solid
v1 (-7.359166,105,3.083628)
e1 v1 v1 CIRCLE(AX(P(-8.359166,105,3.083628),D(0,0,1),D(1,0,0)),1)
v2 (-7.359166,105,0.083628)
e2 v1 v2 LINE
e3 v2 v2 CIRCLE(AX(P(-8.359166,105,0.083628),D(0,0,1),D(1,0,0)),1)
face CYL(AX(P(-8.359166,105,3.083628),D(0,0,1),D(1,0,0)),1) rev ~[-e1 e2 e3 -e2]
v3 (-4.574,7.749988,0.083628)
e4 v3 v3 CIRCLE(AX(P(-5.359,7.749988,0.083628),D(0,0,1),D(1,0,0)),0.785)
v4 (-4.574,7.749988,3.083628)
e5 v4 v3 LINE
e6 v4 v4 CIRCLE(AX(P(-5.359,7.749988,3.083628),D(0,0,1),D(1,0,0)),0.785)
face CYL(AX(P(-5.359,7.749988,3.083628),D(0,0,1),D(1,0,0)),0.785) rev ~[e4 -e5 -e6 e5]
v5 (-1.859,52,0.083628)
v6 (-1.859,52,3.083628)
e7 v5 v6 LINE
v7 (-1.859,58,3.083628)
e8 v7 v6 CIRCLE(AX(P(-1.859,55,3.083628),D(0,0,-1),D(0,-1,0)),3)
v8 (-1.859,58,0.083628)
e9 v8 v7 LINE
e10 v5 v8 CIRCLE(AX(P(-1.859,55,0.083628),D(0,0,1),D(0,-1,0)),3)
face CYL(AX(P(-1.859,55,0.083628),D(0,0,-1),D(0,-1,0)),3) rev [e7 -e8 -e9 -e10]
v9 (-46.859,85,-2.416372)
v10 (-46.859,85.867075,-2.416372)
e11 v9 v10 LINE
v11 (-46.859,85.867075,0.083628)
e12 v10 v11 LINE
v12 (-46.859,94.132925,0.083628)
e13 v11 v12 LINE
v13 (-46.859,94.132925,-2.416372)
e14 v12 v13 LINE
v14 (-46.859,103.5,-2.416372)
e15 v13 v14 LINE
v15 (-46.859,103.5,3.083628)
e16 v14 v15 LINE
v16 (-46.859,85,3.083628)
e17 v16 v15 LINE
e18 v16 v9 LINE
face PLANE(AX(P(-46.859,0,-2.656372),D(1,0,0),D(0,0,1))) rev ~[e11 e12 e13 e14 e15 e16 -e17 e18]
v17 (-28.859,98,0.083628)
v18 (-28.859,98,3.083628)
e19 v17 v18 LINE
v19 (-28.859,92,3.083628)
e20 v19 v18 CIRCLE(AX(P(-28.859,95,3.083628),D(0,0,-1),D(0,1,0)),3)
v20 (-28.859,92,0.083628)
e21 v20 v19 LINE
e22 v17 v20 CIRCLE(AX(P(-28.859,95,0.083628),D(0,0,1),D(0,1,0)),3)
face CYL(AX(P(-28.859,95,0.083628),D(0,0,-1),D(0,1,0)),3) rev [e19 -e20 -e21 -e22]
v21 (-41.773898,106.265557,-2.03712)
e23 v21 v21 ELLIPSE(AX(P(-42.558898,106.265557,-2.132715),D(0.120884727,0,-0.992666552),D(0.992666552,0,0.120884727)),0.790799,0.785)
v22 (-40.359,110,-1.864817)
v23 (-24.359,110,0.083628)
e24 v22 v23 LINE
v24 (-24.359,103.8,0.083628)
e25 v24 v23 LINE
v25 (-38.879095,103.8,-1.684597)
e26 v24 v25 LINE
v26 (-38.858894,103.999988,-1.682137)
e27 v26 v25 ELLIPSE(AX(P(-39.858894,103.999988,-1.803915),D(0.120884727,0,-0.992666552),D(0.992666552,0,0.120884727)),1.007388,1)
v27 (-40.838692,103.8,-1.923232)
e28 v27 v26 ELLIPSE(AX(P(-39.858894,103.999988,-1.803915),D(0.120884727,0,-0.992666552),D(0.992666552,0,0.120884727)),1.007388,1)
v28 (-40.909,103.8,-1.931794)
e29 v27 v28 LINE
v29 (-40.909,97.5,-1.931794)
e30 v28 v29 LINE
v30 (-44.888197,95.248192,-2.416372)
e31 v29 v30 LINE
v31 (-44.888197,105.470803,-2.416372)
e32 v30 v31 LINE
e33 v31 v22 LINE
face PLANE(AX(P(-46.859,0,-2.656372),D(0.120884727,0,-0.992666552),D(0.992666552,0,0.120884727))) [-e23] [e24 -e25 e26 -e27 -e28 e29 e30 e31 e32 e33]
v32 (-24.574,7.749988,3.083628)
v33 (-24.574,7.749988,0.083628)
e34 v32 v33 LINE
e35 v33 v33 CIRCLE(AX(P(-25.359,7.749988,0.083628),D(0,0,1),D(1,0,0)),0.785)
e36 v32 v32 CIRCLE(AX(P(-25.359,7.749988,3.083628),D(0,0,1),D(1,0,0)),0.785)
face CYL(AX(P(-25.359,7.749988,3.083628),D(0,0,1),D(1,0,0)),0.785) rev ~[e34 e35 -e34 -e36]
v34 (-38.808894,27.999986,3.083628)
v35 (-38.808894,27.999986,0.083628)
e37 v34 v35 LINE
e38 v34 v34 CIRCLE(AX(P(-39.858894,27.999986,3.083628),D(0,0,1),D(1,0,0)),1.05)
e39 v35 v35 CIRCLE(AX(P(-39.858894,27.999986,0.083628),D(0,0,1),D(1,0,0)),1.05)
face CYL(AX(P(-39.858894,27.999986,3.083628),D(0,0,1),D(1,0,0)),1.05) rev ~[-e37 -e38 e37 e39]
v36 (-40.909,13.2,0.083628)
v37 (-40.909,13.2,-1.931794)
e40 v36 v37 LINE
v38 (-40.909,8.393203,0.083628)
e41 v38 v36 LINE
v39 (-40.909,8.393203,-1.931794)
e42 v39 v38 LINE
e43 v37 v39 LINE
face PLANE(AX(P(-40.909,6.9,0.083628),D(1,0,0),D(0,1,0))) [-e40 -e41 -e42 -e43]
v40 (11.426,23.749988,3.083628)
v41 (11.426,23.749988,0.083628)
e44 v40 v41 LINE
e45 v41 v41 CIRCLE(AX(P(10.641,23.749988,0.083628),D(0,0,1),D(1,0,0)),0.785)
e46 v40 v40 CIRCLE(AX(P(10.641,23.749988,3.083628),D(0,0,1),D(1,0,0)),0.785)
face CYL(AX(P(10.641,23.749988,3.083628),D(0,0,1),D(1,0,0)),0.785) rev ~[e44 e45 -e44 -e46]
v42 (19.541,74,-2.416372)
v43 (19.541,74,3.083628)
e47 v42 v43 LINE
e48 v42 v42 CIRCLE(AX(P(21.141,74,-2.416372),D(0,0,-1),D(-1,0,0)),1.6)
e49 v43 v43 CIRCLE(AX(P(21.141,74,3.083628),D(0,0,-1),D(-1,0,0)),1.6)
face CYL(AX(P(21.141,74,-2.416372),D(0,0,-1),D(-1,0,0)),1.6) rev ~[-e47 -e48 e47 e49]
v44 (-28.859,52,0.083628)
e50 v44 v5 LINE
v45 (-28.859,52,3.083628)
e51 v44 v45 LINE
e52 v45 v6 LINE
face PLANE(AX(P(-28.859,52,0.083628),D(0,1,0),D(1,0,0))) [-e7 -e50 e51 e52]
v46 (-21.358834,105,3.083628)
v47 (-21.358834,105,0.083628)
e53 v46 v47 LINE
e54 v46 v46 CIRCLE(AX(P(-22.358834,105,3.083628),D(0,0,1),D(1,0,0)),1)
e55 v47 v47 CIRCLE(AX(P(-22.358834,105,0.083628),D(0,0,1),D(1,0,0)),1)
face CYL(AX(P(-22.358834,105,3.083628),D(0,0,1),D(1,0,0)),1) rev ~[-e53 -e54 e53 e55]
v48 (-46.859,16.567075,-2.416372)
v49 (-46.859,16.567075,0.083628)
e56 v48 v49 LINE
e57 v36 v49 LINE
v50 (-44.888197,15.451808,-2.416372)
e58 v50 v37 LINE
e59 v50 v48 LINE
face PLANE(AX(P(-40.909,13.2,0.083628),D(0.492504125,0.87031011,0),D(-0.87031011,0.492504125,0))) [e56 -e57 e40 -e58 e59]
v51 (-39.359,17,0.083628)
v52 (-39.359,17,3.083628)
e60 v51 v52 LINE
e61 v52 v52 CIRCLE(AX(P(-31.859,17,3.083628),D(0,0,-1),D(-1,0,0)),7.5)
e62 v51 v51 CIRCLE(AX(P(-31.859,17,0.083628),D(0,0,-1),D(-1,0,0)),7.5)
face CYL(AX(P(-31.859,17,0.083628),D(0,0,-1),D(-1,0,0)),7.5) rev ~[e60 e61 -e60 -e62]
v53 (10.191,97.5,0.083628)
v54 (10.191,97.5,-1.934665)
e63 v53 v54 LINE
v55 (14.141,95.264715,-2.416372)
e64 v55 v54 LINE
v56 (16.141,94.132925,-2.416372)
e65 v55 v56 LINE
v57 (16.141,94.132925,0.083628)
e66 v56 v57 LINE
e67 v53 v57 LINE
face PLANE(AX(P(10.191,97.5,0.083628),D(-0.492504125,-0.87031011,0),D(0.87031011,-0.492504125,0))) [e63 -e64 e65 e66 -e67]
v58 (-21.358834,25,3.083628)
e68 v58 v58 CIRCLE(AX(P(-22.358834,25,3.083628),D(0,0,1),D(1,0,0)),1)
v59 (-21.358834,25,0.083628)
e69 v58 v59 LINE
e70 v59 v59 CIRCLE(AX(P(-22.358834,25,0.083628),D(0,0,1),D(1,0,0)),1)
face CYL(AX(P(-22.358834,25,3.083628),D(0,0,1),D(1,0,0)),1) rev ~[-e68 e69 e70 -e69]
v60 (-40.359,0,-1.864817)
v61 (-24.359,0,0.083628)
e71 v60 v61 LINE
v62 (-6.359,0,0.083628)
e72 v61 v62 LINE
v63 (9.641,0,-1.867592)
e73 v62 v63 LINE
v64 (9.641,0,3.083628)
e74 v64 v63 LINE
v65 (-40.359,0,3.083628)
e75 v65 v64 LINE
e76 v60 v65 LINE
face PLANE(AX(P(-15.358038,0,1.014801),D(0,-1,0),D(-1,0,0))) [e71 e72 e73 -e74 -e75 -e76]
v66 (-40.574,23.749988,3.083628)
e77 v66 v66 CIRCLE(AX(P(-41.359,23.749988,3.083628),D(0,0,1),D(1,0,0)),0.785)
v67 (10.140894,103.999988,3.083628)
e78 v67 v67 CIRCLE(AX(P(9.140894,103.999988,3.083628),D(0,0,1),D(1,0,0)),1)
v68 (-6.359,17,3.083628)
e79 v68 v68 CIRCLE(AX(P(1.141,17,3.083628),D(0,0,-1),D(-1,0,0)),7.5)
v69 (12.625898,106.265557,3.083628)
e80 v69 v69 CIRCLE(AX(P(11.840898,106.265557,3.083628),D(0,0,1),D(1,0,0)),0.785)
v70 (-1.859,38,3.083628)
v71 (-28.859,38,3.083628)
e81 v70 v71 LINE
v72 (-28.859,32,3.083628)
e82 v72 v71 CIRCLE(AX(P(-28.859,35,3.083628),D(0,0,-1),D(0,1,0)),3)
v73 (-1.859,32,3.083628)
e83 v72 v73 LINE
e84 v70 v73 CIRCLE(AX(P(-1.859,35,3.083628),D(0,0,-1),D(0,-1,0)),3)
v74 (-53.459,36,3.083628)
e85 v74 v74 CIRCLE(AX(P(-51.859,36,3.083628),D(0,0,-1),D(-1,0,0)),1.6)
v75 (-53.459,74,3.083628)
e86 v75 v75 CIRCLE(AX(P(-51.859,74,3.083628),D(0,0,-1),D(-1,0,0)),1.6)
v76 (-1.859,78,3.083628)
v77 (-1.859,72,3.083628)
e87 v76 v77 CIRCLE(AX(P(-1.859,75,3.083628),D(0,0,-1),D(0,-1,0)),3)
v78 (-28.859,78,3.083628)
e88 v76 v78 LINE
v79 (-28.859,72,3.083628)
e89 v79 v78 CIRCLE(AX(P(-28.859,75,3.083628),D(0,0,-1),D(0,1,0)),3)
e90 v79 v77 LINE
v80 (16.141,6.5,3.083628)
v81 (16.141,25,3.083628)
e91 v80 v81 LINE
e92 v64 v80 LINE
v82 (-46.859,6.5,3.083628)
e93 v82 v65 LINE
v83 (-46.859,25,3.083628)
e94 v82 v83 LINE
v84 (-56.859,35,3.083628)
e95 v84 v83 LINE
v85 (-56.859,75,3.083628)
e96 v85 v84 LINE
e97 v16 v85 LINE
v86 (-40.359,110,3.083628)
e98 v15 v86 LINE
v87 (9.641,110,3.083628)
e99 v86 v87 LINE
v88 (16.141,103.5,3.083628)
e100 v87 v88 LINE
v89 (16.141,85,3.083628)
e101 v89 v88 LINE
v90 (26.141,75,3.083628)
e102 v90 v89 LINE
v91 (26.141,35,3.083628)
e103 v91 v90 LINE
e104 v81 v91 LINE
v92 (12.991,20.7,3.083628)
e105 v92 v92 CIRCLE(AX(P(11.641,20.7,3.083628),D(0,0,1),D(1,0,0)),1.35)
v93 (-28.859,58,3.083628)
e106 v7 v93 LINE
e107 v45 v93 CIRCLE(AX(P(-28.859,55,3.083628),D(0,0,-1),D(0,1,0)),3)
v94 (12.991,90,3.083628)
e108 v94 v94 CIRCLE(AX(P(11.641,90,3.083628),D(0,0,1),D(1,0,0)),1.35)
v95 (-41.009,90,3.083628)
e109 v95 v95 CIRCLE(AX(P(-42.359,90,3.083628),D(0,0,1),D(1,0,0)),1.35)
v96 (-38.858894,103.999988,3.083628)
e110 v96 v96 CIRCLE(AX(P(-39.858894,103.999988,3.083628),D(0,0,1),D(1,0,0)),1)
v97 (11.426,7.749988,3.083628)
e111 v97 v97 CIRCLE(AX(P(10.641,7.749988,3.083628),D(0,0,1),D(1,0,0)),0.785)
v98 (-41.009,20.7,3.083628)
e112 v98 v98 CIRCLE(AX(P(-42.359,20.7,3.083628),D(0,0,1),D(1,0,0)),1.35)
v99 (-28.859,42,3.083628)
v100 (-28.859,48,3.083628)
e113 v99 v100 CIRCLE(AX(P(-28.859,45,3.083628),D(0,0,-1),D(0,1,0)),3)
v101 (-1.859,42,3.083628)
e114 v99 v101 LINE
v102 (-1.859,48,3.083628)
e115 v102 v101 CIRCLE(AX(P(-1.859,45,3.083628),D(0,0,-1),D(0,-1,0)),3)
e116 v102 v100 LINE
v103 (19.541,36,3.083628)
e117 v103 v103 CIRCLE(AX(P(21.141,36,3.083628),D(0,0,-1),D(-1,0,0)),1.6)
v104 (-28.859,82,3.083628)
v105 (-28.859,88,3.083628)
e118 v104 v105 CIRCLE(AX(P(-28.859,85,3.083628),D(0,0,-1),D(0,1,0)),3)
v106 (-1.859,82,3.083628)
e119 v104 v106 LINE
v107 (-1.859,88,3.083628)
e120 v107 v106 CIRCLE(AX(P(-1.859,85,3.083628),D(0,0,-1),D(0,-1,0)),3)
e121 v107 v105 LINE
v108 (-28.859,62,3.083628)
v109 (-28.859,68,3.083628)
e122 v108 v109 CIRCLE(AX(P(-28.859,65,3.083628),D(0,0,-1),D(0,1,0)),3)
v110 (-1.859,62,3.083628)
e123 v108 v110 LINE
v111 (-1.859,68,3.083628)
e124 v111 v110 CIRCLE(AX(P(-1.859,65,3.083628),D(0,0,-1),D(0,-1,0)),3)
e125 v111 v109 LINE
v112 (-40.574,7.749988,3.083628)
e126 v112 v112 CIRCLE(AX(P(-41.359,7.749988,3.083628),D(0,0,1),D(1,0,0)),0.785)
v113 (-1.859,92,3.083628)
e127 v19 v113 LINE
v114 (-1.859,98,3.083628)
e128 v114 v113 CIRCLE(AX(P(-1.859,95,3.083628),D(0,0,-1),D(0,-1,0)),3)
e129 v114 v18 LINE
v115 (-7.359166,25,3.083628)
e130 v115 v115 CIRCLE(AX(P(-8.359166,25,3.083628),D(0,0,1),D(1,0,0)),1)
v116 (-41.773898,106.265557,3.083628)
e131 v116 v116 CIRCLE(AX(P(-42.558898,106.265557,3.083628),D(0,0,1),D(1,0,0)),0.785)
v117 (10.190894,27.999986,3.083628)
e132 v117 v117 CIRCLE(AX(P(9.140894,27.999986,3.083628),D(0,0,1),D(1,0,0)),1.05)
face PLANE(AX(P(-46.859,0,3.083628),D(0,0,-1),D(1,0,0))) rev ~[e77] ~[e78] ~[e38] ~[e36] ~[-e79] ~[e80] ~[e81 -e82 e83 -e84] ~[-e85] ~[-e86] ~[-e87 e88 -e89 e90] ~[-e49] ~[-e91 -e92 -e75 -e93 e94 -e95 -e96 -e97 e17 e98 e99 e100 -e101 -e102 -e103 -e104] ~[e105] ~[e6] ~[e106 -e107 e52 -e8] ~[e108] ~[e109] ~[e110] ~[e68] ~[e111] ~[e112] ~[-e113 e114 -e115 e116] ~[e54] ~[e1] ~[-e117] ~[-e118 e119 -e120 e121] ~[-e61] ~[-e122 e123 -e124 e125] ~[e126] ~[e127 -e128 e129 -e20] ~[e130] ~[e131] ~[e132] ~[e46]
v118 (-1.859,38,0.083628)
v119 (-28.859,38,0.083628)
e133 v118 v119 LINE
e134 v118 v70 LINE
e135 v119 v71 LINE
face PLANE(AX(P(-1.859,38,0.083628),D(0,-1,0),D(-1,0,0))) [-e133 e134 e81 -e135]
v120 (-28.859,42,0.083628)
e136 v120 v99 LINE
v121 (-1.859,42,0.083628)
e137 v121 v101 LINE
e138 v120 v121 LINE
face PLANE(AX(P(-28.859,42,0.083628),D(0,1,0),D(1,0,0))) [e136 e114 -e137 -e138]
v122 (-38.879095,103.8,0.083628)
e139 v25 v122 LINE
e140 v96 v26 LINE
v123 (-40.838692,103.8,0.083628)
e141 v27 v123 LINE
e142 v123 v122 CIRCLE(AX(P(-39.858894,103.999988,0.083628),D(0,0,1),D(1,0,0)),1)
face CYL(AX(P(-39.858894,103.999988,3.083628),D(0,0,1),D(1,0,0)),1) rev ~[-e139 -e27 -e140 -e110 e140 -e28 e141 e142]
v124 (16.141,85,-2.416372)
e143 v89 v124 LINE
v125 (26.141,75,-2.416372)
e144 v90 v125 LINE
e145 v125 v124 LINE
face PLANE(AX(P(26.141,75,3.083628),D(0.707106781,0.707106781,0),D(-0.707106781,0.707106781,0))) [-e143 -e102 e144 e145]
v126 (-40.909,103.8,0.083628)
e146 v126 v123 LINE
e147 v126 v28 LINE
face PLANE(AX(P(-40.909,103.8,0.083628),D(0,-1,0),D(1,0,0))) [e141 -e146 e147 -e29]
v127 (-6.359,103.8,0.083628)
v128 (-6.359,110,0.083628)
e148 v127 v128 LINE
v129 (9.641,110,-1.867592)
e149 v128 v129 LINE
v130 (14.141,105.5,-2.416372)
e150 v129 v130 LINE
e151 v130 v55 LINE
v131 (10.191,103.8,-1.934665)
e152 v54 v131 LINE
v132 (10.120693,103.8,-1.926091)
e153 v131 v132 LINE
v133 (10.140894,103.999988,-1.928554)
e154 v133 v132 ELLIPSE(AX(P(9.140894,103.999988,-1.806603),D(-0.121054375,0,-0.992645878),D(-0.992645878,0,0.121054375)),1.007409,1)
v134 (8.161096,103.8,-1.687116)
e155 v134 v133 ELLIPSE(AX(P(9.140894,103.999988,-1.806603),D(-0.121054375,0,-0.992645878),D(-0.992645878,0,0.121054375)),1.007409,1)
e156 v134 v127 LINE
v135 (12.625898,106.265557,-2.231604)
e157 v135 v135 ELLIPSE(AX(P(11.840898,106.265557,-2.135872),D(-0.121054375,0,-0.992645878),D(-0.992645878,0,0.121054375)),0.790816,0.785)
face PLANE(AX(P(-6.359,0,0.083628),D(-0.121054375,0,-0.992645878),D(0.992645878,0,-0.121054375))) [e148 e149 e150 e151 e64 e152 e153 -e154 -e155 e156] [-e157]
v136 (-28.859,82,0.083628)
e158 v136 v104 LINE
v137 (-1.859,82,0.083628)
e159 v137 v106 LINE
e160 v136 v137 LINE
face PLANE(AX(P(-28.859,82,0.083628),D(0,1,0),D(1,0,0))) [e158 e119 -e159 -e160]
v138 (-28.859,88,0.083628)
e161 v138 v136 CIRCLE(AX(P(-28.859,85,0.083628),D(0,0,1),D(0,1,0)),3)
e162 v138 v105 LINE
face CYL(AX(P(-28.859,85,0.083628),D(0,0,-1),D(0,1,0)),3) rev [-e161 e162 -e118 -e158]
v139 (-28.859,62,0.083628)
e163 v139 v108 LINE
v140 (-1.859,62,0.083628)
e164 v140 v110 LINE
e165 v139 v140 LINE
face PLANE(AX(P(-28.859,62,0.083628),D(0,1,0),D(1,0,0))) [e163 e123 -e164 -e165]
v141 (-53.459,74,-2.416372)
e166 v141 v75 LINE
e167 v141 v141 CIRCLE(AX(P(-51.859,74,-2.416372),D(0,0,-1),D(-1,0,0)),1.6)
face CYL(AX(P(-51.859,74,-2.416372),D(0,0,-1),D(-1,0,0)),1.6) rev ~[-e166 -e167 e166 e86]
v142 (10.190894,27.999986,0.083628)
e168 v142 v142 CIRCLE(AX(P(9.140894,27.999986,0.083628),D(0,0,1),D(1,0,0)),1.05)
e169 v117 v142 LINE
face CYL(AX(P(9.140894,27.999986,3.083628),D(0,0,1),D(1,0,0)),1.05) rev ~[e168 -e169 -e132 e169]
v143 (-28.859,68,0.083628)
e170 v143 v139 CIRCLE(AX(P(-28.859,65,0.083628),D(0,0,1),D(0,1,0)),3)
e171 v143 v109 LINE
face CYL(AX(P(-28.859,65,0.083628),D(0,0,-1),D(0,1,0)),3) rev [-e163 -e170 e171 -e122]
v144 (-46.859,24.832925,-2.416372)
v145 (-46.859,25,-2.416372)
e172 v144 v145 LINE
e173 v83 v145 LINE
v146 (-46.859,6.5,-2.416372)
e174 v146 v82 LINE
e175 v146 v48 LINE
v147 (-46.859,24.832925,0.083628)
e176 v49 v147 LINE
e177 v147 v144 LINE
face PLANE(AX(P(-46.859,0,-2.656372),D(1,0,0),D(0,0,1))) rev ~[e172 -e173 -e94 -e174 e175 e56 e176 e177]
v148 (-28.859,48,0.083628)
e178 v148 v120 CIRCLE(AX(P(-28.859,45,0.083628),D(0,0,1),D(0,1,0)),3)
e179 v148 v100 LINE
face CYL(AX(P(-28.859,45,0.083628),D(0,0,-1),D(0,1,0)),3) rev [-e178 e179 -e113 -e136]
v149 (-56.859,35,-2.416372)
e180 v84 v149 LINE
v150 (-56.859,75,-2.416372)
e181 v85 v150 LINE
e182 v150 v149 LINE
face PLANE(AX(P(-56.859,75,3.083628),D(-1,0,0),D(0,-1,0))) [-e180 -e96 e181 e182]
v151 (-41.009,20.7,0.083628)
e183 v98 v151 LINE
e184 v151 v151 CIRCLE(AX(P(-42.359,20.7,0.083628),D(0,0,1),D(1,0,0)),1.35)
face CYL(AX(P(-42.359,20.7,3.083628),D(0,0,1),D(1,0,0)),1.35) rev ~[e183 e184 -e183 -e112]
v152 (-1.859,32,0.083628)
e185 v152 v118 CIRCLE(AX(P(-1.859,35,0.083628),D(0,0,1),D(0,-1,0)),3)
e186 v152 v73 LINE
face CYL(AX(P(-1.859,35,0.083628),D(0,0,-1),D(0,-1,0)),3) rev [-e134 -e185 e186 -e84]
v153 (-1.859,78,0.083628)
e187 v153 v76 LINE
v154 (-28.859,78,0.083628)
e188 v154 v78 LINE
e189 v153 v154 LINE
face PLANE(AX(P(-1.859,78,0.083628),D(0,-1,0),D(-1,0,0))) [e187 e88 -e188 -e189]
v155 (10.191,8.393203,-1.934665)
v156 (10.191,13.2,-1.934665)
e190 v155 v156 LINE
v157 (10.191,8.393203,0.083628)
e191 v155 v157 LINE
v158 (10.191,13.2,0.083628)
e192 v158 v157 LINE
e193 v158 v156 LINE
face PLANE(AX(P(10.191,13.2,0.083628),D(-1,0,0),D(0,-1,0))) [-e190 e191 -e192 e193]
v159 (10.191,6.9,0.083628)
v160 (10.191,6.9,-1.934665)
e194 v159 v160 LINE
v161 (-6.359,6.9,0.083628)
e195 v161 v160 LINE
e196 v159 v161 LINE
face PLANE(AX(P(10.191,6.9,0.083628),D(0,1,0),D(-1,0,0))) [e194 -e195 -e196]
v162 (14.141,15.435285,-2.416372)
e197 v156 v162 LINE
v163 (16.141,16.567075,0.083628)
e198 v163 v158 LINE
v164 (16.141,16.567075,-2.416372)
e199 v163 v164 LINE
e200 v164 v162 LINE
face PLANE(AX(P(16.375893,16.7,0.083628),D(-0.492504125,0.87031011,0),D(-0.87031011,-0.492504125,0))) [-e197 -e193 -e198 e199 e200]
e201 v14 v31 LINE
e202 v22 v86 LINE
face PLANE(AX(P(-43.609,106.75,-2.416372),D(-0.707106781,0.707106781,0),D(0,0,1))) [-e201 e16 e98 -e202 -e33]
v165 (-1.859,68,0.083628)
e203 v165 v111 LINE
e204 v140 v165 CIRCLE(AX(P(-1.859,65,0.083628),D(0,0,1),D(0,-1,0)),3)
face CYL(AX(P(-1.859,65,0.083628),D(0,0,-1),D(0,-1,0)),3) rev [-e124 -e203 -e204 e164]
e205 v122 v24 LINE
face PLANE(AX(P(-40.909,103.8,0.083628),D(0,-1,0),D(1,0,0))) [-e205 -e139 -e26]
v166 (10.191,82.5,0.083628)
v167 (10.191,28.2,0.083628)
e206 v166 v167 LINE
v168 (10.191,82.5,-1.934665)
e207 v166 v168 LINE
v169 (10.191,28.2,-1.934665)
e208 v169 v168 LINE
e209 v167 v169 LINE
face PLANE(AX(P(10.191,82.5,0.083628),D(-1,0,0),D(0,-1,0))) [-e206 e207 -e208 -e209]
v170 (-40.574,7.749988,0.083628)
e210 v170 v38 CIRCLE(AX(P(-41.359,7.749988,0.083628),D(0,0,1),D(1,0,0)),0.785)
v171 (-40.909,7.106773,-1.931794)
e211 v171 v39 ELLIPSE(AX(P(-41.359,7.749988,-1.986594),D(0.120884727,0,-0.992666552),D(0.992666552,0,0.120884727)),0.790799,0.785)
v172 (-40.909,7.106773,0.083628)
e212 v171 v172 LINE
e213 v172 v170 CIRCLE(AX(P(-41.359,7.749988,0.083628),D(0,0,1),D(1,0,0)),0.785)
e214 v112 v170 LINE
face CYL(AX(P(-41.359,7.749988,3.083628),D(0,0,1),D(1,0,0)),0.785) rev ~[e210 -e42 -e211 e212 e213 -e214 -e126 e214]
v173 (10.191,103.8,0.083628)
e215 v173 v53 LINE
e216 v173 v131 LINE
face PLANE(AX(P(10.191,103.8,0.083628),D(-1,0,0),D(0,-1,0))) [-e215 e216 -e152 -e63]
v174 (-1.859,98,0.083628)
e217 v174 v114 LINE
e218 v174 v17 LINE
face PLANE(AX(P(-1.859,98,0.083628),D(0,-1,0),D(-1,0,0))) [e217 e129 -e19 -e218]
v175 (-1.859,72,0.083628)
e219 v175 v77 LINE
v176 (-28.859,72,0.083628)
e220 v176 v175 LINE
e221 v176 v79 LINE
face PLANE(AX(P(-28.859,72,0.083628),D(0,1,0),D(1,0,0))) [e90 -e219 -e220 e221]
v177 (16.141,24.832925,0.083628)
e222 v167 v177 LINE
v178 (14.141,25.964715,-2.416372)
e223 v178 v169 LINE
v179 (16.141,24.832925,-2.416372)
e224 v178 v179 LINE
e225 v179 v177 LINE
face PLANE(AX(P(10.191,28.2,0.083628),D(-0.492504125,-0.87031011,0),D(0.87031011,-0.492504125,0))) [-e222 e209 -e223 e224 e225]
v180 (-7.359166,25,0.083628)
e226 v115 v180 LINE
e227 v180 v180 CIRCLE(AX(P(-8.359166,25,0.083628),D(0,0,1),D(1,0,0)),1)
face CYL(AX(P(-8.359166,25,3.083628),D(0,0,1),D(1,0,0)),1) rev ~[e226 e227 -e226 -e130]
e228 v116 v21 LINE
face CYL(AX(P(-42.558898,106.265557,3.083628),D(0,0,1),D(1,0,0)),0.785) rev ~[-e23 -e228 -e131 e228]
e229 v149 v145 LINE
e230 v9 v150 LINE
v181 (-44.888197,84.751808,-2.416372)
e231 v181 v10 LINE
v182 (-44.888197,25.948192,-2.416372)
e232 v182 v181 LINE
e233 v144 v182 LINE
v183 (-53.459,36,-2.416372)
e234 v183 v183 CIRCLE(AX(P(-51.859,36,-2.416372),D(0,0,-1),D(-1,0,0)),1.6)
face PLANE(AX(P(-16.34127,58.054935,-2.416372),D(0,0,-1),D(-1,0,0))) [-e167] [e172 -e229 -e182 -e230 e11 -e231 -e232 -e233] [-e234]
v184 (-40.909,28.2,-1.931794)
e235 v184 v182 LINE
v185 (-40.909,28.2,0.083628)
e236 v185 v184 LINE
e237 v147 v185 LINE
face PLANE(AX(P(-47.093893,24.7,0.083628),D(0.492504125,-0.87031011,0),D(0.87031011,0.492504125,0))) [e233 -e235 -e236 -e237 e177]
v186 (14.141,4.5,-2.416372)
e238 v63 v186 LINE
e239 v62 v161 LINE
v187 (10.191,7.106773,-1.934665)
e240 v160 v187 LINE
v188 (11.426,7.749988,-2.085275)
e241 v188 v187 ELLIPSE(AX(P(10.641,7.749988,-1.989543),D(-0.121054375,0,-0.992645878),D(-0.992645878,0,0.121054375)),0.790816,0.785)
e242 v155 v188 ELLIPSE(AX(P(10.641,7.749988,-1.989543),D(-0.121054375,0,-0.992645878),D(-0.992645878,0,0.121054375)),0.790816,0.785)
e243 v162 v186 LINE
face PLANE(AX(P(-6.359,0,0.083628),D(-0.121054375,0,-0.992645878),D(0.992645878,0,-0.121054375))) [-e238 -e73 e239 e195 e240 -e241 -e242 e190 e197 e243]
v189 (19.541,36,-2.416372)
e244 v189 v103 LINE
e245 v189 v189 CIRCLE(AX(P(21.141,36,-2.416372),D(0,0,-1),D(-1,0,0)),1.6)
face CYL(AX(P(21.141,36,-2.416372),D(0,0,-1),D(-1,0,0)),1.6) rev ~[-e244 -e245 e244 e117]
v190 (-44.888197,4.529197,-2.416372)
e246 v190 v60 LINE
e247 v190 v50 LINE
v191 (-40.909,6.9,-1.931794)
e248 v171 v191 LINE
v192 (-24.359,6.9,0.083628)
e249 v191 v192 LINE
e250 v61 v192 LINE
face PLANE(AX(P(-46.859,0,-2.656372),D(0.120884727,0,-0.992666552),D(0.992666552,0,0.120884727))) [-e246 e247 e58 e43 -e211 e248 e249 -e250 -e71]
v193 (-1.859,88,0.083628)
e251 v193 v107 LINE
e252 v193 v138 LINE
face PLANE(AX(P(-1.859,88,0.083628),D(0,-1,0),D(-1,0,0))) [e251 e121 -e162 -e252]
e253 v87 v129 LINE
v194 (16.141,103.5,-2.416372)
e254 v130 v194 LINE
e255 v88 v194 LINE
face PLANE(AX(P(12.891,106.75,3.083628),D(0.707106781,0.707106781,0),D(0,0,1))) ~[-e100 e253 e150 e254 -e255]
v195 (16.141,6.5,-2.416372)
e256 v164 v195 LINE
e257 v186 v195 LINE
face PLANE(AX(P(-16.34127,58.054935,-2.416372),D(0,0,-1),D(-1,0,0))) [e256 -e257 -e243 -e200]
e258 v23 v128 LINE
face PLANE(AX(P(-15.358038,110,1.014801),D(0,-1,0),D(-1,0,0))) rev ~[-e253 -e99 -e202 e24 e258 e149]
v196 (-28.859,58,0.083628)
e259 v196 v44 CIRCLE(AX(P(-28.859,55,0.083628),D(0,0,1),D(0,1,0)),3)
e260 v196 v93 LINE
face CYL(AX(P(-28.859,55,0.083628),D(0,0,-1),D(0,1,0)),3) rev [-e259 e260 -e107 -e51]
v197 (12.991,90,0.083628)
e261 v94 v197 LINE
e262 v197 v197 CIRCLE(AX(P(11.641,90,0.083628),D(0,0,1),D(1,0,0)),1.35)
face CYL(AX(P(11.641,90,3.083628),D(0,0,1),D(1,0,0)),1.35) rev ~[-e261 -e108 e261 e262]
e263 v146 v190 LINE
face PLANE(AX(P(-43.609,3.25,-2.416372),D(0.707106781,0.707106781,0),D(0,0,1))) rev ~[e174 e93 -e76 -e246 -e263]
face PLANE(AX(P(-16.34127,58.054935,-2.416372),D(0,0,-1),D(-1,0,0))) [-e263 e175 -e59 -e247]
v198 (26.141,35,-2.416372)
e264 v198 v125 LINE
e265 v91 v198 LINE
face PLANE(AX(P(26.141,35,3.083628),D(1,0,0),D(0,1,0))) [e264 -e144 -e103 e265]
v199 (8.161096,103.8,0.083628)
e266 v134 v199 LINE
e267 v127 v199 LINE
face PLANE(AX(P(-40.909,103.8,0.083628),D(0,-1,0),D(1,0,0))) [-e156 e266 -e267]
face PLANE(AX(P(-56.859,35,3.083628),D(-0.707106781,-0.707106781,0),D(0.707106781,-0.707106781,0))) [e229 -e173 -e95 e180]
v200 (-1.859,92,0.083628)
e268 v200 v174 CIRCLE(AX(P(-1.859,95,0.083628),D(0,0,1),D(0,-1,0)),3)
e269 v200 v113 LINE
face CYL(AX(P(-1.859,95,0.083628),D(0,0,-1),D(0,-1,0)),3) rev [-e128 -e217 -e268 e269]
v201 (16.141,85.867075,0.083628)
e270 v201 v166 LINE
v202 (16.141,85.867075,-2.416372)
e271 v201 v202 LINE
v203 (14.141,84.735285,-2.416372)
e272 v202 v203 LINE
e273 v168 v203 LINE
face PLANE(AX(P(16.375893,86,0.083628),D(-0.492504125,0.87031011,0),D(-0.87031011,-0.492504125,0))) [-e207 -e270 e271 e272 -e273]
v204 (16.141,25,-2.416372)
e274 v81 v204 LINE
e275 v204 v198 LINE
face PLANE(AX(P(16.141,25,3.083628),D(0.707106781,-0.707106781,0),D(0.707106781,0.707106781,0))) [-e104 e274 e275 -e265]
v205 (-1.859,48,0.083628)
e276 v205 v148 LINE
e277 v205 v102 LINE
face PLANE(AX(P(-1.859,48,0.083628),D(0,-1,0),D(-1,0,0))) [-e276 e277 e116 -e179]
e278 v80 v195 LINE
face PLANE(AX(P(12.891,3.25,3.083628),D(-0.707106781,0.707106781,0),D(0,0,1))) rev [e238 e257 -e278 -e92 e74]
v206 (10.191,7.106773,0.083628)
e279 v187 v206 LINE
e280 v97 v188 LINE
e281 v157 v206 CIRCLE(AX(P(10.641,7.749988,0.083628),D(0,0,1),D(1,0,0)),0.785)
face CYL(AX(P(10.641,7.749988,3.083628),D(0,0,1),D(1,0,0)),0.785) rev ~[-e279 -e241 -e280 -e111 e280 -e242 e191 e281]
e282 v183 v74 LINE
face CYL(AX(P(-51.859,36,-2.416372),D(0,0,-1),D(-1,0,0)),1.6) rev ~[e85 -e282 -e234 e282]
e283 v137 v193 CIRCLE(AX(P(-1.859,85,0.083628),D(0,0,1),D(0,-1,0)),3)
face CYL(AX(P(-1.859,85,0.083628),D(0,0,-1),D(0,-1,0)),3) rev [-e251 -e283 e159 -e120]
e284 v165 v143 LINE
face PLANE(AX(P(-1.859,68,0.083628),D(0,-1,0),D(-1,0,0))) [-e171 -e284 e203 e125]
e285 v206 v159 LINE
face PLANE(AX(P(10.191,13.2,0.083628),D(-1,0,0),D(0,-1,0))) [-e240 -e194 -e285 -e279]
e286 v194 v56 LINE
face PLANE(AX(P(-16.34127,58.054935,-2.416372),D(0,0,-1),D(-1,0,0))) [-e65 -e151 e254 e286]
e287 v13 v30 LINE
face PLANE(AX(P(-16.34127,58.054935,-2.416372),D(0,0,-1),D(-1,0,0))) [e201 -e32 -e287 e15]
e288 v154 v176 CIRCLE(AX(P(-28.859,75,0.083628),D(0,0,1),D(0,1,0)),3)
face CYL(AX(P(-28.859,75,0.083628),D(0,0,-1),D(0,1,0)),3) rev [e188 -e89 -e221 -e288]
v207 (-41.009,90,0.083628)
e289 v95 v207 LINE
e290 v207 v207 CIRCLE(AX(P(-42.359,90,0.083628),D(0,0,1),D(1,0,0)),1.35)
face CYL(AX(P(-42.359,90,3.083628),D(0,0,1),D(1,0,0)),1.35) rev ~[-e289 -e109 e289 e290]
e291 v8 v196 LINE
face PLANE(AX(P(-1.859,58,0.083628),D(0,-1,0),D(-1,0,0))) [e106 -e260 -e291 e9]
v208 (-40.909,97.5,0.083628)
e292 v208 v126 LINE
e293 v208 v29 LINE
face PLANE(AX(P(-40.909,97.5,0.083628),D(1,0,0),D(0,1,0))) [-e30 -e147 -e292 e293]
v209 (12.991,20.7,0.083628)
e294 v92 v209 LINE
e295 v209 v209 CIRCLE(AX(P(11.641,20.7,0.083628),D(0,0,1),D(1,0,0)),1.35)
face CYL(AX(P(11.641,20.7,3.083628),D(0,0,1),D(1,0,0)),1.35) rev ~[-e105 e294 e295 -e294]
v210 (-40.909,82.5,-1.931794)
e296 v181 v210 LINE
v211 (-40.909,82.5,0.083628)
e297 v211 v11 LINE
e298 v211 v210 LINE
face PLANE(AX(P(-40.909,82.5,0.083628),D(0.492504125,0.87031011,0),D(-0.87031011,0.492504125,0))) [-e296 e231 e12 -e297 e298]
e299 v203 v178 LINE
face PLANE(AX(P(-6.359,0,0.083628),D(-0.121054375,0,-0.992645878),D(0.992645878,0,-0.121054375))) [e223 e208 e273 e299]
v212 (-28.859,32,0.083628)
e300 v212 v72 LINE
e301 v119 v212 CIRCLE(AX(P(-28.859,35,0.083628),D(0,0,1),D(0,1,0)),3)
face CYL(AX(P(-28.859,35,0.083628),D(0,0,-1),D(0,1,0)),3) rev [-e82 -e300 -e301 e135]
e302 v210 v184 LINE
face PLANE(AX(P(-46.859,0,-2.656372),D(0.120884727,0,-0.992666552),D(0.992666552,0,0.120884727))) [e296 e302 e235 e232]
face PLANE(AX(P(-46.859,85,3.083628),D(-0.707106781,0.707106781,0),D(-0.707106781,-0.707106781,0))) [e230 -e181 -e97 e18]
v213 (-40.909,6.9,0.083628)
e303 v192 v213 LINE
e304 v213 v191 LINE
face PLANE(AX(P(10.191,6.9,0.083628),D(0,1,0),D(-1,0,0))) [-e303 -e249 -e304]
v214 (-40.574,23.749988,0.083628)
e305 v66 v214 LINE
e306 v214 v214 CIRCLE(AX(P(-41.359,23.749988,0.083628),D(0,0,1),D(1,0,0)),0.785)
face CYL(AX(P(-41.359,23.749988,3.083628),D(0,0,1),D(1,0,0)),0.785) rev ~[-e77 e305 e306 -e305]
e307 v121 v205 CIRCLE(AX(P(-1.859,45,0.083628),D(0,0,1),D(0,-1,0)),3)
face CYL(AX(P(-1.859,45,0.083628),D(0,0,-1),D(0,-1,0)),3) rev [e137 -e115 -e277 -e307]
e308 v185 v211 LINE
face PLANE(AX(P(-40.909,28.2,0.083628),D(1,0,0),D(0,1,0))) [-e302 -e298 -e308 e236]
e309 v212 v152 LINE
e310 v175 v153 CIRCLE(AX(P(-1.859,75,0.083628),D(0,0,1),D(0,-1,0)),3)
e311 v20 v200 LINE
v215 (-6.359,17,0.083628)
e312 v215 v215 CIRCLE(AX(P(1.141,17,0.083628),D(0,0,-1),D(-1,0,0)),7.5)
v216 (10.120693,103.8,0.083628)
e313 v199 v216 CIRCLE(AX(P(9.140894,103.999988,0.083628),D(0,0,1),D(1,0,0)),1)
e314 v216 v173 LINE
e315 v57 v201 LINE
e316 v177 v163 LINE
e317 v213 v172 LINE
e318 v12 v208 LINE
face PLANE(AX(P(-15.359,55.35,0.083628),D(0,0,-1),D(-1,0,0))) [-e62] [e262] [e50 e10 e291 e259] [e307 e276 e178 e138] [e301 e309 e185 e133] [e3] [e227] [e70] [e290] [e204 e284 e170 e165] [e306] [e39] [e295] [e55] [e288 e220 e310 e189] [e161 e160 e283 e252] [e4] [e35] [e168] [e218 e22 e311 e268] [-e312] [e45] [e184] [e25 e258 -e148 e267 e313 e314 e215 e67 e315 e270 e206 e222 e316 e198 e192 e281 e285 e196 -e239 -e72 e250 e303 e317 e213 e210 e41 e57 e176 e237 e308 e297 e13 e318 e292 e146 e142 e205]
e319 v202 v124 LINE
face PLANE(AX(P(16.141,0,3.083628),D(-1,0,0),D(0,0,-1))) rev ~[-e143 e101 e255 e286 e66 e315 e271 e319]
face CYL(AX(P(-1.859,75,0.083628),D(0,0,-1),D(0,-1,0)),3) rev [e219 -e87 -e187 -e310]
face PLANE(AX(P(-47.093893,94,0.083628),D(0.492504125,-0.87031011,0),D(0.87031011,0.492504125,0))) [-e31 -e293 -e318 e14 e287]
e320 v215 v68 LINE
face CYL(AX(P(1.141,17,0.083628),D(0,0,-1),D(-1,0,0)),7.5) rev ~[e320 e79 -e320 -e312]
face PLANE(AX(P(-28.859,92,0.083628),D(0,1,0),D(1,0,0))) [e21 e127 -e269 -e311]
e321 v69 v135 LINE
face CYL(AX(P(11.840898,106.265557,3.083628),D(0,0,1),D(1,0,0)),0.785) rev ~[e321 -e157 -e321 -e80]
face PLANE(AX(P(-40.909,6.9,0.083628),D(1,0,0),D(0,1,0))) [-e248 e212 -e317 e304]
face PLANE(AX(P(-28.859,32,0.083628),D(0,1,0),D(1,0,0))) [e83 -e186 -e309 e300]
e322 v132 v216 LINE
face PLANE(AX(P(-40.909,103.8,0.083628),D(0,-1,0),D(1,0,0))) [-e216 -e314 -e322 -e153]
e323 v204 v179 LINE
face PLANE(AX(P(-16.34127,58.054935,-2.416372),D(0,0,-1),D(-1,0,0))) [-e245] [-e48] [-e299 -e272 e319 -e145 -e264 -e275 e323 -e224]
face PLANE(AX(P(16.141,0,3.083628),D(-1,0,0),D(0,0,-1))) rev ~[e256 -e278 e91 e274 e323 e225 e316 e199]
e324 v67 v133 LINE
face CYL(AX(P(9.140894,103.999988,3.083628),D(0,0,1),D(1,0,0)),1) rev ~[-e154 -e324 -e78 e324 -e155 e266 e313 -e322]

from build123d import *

# Parameters (mm, degrees)
EXTRUDE_1_DEPTH     = 110
SKETCH_3_R          = 1.35
CUT_EXTRUDE_2_DEPTH = 110
CUT_EXTRUDE_3_DEPTH = 65
SKETCH1_R           = 0.785
SKETCH1_R_2         = 1
SKETCH1_R_3         = 1.05
CUT_EXTRUDE1_DEPTH  = 10
SKETCH2_W           = 70.969328166
SKETCH2_H           = 159.698844539
CUT_EXTRUDE2_DEPTH  = 10
BOSS_EXTRUDE1_DEPTH = 5.5
SKETCH4_R           = 1.6
CUT_EXTRUDE3_DEPTH  = 20
CHAMFER1_SIZE       = 6.5
SKETCH5_R           = 7.5
CUT_EXTRUDE4_DEPTH  = 10


with BuildPart() as part:
    # 草图1 → 凸台-拉伸1 (new body)
    with BuildSketch(Plane(origin=(0, 0, 0), x_dir=(1, 0, 0), z_dir=(0, 1, 0))):
        Polygon((-46.858999723, -0.34362784), (-46.858999723, 2.65637216), (-24.358999723, -0.08362784), (-6.358999723, -0.08362784), (16.141000277, 2.660274599), (16.141000277, -0.34362784), (16.141000277, -3.08362784), (-6.358999723, -3.08362784), (-24.358999723, -3.08362784), (-46.858999723, -3.08362784), align=None)
    extrude(amount=EXTRUDE_1_DEPTH)

    # 草图3 → 切除-拉伸2 (cut)
    with BuildSketch(Plane.XY.offset(3.08362784)):
        with Locations((11.641000277, 90)):
            Circle(SKETCH_3_R)
        with Locations((11.641000277, 20.7)):
            Circle(SKETCH_3_R)
        with Locations((-42.358999723, 20.7)):
            Circle(SKETCH_3_R)
        with Locations((-42.358999723, 90)):
            Circle(SKETCH_3_R)
    extrude(amount=-CUT_EXTRUDE_2_DEPTH, mode=Mode.SUBTRACT)

    # 草图4 → 切除-拉伸3 (cut)
    with BuildSketch(Plane(origin=(0, 0, 0.08362784), x_dir=(-1, 0, 0), z_dir=(0, 0, -1))):
        Polygon((40.908999723, 6.9), (40.908999723, 13.2), (47.093892861, 16.7), (47.093892861, 24.7), (40.908999723, 28.2), (40.908999723, 82.5), (47.093892861, 86), (47.093892861, 94), (40.908999723, 97.5), (40.908999723, 103.8), (-10.191000277, 103.8), (-10.191000277, 97.5), (-16.375893416, 94), (-16.375893416, 86), (-10.191000277, 82.5), (-10.191000277, 28.2), (-16.375893416, 24.7), (-16.375893416, 16.7), (-10.191000277, 13.2), (-10.191000277, 6.9), align=None)
    extrude(amount=CUT_EXTRUDE_3_DEPTH, mode=Mode.SUBTRACT)

    # Sketch1 → Cut-Extrude1 (cut)
    with BuildSketch(Plane.XY.offset(3.08362784)):
        with Locations((-42.558897723, 106.265557005)):
            Circle(SKETCH1_R)
        with Locations((-39.858893724, 103.999988001)):
            Circle(SKETCH1_R_2)
        with Locations((-22.358833723, 105)):
            Circle(SKETCH1_R_2)
        with Locations((-22.358833723, 25)):
            Circle(SKETCH1_R_2)
        with Locations((-39.858893724, 27.999986001)):
            Circle(SKETCH1_R_3)
        with Locations((-41.358999723, 23.749988001)):
            Circle(SKETCH1_R)
        with Locations((-41.358999723, 7.749988001)):
            Circle(SKETCH1_R)
        with Locations((-25.358999723, 7.749988001)):
            Circle(SKETCH1_R)
        with Locations((-5.358999723, 7.749988001)):
            Circle(SKETCH1_R)
        with Locations((10.641000277, 7.749988001)):
            Circle(SKETCH1_R)
        with Locations((10.641000277, 23.749988001)):
            Circle(SKETCH1_R)
        with Locations((9.140894279, 27.999986001)):
            Circle(SKETCH1_R_3)
        with Locations((-8.359165723, 25)):
            Circle(SKETCH1_R_2)
        with Locations((-8.359165723, 105)):
            Circle(SKETCH1_R_2)
        with Locations((9.140894279, 103.999988001)):
            Circle(SKETCH1_R_2)
        with Locations((11.840898278, 106.265557005)):
            Circle(SKETCH1_R)
    extrude(amount=-CUT_EXTRUDE1_DEPTH, mode=Mode.SUBTRACT)

    # Sketch2 → Cut-Extrude2 (cut)
    with BuildSketch(Plane(origin=(0, 0, -2.41637216), x_dir=(-1, 0, 0), z_dir=(0, 0, -1))):
        with Locations((16.341269992, 58.054935109)):
            Rectangle(SKETCH2_W, SKETCH2_H)
    extrude(amount=CUT_EXTRUDE2_DEPTH, mode=Mode.SUBTRACT)

    # Sketch3 → Boss-Extrude1 (add)
    with BuildSketch(Plane.XY.offset(3.08362784)):
        Polygon((-46.858999723, 85), (-56.858999723, 75), (-56.858999723, 35), (-46.858999723, 25), align=None)
        Polygon((16.141000277, 85), (16.141000277, 25), (26.141000277, 35), (26.141000277, 75), align=None)
    extrude(amount=-BOSS_EXTRUDE1_DEPTH)

    # Sketch4 → Cut-Extrude3 (cut)
    with BuildSketch(Plane(origin=(0, 0, -2.41637216), x_dir=(-1, 0, 0), z_dir=(0, 0, -1))):
        with Locations((-21.141000277, 74)):
            Circle(SKETCH4_R)
        with Locations((-21.141000277, 36)):
            Circle(SKETCH4_R)
        with Locations((51.858999723, 74)):
            Circle(SKETCH4_R)
        with Locations((51.858999723, 36)):
            Circle(SKETCH4_R)
    extrude(amount=-CUT_EXTRUDE3_DEPTH, mode=Mode.SUBTRACT)

    # Chamfer1
    chamfer1_edges = [part.edges().sort_by_distance(p)[0] for p in [
        (16.141000277, 110, 0.33362784),
        (-46.858999723, 110, 0.33362784),
        (16.141000277, 0, 0.33362784),
        (-46.858999723, 0, 0.33362784),
    ]]
    chamfer(chamfer1_edges, length=CHAMFER1_SIZE)

    # Sketch5 → Cut-Extrude4 (cut)
    with BuildSketch(Plane(origin=(0, 0, 0.08362784), x_dir=(-1, 0, 0), z_dir=(0, 0, -1))):
        with Locations((31.858999723, 17)):
            Circle(SKETCH5_R)
        with Locations((-1.141000277, 17)):
            Circle(SKETCH5_R)
        with BuildLine():
            Line((28.858999723, 32), (1.858999723, 32))
            ThreePointArc((1.858999723, 32), (-1.141000277, 35), (1.858999723, 38))
            Line((1.858999723, 38), (28.858999723, 38))
            ThreePointArc((28.858999723, 38), (31.858999723, 35), (28.858999723, 32))
        make_face()
        with BuildLine():
            Line((28.858999723, 42), (1.858999723, 42))
            ThreePointArc((1.858999723, 42), (-1.141000277, 45), (1.858999723, 48))
            Line((1.858999723, 48), (28.858999723, 48))
            ThreePointArc((28.858999723, 48), (31.858999723, 45), (28.858999723, 42))
        make_face()
        with BuildLine():
            Line((28.858999723, 52), (1.858999723, 52))
            ThreePointArc((1.858999723, 52), (-1.141000277, 55), (1.858999723, 58))
            Line((1.858999723, 58), (28.858999723, 58))
            ThreePointArc((28.858999723, 58), (31.858999723, 55), (28.858999723, 52))
        make_face()
        with BuildLine():
            Line((28.858999723, 62), (1.858999723, 62))
            ThreePointArc((1.858999723, 62), (-1.141000277, 65), (1.858999723, 68))
            Line((1.858999723, 68), (28.858999723, 68))
            ThreePointArc((28.858999723, 68), (31.858999723, 65), (28.858999723, 62))
        make_face()
        with BuildLine():
            Line((28.858999723, 72), (1.858999723, 72))
            ThreePointArc((1.858999723, 72), (-1.141000277, 75), (1.858999723, 78))
            Line((1.858999723, 78), (28.858999723, 78))
            ThreePointArc((28.858999723, 78), (31.858999723, 75), (28.858999723, 72))
        make_face()
        with BuildLine():
            Line((28.858999723, 82), (1.858999723, 82))
            ThreePointArc((1.858999723, 82), (-1.141000277, 85), (1.858999723, 88))
            Line((1.858999723, 88), (28.858999723, 88))
            ThreePointArc((28.858999723, 88), (31.858999723, 85), (28.858999723, 82))
        make_face()
        with BuildLine():
            Line((28.858999723, 92), (1.858999723, 92))
            ThreePointArc((1.858999723, 92), (-1.141000277, 95), (1.858999723, 98))
            Line((1.858999723, 98), (28.858999723, 98))
            ThreePointArc((28.858999723, 98), (31.858999723, 95), (28.858999723, 92))
        make_face()
    extrude(amount=-CUT_EXTRUDE4_DEPTH, mode=Mode.SUBTRACT)


solid = part.part
